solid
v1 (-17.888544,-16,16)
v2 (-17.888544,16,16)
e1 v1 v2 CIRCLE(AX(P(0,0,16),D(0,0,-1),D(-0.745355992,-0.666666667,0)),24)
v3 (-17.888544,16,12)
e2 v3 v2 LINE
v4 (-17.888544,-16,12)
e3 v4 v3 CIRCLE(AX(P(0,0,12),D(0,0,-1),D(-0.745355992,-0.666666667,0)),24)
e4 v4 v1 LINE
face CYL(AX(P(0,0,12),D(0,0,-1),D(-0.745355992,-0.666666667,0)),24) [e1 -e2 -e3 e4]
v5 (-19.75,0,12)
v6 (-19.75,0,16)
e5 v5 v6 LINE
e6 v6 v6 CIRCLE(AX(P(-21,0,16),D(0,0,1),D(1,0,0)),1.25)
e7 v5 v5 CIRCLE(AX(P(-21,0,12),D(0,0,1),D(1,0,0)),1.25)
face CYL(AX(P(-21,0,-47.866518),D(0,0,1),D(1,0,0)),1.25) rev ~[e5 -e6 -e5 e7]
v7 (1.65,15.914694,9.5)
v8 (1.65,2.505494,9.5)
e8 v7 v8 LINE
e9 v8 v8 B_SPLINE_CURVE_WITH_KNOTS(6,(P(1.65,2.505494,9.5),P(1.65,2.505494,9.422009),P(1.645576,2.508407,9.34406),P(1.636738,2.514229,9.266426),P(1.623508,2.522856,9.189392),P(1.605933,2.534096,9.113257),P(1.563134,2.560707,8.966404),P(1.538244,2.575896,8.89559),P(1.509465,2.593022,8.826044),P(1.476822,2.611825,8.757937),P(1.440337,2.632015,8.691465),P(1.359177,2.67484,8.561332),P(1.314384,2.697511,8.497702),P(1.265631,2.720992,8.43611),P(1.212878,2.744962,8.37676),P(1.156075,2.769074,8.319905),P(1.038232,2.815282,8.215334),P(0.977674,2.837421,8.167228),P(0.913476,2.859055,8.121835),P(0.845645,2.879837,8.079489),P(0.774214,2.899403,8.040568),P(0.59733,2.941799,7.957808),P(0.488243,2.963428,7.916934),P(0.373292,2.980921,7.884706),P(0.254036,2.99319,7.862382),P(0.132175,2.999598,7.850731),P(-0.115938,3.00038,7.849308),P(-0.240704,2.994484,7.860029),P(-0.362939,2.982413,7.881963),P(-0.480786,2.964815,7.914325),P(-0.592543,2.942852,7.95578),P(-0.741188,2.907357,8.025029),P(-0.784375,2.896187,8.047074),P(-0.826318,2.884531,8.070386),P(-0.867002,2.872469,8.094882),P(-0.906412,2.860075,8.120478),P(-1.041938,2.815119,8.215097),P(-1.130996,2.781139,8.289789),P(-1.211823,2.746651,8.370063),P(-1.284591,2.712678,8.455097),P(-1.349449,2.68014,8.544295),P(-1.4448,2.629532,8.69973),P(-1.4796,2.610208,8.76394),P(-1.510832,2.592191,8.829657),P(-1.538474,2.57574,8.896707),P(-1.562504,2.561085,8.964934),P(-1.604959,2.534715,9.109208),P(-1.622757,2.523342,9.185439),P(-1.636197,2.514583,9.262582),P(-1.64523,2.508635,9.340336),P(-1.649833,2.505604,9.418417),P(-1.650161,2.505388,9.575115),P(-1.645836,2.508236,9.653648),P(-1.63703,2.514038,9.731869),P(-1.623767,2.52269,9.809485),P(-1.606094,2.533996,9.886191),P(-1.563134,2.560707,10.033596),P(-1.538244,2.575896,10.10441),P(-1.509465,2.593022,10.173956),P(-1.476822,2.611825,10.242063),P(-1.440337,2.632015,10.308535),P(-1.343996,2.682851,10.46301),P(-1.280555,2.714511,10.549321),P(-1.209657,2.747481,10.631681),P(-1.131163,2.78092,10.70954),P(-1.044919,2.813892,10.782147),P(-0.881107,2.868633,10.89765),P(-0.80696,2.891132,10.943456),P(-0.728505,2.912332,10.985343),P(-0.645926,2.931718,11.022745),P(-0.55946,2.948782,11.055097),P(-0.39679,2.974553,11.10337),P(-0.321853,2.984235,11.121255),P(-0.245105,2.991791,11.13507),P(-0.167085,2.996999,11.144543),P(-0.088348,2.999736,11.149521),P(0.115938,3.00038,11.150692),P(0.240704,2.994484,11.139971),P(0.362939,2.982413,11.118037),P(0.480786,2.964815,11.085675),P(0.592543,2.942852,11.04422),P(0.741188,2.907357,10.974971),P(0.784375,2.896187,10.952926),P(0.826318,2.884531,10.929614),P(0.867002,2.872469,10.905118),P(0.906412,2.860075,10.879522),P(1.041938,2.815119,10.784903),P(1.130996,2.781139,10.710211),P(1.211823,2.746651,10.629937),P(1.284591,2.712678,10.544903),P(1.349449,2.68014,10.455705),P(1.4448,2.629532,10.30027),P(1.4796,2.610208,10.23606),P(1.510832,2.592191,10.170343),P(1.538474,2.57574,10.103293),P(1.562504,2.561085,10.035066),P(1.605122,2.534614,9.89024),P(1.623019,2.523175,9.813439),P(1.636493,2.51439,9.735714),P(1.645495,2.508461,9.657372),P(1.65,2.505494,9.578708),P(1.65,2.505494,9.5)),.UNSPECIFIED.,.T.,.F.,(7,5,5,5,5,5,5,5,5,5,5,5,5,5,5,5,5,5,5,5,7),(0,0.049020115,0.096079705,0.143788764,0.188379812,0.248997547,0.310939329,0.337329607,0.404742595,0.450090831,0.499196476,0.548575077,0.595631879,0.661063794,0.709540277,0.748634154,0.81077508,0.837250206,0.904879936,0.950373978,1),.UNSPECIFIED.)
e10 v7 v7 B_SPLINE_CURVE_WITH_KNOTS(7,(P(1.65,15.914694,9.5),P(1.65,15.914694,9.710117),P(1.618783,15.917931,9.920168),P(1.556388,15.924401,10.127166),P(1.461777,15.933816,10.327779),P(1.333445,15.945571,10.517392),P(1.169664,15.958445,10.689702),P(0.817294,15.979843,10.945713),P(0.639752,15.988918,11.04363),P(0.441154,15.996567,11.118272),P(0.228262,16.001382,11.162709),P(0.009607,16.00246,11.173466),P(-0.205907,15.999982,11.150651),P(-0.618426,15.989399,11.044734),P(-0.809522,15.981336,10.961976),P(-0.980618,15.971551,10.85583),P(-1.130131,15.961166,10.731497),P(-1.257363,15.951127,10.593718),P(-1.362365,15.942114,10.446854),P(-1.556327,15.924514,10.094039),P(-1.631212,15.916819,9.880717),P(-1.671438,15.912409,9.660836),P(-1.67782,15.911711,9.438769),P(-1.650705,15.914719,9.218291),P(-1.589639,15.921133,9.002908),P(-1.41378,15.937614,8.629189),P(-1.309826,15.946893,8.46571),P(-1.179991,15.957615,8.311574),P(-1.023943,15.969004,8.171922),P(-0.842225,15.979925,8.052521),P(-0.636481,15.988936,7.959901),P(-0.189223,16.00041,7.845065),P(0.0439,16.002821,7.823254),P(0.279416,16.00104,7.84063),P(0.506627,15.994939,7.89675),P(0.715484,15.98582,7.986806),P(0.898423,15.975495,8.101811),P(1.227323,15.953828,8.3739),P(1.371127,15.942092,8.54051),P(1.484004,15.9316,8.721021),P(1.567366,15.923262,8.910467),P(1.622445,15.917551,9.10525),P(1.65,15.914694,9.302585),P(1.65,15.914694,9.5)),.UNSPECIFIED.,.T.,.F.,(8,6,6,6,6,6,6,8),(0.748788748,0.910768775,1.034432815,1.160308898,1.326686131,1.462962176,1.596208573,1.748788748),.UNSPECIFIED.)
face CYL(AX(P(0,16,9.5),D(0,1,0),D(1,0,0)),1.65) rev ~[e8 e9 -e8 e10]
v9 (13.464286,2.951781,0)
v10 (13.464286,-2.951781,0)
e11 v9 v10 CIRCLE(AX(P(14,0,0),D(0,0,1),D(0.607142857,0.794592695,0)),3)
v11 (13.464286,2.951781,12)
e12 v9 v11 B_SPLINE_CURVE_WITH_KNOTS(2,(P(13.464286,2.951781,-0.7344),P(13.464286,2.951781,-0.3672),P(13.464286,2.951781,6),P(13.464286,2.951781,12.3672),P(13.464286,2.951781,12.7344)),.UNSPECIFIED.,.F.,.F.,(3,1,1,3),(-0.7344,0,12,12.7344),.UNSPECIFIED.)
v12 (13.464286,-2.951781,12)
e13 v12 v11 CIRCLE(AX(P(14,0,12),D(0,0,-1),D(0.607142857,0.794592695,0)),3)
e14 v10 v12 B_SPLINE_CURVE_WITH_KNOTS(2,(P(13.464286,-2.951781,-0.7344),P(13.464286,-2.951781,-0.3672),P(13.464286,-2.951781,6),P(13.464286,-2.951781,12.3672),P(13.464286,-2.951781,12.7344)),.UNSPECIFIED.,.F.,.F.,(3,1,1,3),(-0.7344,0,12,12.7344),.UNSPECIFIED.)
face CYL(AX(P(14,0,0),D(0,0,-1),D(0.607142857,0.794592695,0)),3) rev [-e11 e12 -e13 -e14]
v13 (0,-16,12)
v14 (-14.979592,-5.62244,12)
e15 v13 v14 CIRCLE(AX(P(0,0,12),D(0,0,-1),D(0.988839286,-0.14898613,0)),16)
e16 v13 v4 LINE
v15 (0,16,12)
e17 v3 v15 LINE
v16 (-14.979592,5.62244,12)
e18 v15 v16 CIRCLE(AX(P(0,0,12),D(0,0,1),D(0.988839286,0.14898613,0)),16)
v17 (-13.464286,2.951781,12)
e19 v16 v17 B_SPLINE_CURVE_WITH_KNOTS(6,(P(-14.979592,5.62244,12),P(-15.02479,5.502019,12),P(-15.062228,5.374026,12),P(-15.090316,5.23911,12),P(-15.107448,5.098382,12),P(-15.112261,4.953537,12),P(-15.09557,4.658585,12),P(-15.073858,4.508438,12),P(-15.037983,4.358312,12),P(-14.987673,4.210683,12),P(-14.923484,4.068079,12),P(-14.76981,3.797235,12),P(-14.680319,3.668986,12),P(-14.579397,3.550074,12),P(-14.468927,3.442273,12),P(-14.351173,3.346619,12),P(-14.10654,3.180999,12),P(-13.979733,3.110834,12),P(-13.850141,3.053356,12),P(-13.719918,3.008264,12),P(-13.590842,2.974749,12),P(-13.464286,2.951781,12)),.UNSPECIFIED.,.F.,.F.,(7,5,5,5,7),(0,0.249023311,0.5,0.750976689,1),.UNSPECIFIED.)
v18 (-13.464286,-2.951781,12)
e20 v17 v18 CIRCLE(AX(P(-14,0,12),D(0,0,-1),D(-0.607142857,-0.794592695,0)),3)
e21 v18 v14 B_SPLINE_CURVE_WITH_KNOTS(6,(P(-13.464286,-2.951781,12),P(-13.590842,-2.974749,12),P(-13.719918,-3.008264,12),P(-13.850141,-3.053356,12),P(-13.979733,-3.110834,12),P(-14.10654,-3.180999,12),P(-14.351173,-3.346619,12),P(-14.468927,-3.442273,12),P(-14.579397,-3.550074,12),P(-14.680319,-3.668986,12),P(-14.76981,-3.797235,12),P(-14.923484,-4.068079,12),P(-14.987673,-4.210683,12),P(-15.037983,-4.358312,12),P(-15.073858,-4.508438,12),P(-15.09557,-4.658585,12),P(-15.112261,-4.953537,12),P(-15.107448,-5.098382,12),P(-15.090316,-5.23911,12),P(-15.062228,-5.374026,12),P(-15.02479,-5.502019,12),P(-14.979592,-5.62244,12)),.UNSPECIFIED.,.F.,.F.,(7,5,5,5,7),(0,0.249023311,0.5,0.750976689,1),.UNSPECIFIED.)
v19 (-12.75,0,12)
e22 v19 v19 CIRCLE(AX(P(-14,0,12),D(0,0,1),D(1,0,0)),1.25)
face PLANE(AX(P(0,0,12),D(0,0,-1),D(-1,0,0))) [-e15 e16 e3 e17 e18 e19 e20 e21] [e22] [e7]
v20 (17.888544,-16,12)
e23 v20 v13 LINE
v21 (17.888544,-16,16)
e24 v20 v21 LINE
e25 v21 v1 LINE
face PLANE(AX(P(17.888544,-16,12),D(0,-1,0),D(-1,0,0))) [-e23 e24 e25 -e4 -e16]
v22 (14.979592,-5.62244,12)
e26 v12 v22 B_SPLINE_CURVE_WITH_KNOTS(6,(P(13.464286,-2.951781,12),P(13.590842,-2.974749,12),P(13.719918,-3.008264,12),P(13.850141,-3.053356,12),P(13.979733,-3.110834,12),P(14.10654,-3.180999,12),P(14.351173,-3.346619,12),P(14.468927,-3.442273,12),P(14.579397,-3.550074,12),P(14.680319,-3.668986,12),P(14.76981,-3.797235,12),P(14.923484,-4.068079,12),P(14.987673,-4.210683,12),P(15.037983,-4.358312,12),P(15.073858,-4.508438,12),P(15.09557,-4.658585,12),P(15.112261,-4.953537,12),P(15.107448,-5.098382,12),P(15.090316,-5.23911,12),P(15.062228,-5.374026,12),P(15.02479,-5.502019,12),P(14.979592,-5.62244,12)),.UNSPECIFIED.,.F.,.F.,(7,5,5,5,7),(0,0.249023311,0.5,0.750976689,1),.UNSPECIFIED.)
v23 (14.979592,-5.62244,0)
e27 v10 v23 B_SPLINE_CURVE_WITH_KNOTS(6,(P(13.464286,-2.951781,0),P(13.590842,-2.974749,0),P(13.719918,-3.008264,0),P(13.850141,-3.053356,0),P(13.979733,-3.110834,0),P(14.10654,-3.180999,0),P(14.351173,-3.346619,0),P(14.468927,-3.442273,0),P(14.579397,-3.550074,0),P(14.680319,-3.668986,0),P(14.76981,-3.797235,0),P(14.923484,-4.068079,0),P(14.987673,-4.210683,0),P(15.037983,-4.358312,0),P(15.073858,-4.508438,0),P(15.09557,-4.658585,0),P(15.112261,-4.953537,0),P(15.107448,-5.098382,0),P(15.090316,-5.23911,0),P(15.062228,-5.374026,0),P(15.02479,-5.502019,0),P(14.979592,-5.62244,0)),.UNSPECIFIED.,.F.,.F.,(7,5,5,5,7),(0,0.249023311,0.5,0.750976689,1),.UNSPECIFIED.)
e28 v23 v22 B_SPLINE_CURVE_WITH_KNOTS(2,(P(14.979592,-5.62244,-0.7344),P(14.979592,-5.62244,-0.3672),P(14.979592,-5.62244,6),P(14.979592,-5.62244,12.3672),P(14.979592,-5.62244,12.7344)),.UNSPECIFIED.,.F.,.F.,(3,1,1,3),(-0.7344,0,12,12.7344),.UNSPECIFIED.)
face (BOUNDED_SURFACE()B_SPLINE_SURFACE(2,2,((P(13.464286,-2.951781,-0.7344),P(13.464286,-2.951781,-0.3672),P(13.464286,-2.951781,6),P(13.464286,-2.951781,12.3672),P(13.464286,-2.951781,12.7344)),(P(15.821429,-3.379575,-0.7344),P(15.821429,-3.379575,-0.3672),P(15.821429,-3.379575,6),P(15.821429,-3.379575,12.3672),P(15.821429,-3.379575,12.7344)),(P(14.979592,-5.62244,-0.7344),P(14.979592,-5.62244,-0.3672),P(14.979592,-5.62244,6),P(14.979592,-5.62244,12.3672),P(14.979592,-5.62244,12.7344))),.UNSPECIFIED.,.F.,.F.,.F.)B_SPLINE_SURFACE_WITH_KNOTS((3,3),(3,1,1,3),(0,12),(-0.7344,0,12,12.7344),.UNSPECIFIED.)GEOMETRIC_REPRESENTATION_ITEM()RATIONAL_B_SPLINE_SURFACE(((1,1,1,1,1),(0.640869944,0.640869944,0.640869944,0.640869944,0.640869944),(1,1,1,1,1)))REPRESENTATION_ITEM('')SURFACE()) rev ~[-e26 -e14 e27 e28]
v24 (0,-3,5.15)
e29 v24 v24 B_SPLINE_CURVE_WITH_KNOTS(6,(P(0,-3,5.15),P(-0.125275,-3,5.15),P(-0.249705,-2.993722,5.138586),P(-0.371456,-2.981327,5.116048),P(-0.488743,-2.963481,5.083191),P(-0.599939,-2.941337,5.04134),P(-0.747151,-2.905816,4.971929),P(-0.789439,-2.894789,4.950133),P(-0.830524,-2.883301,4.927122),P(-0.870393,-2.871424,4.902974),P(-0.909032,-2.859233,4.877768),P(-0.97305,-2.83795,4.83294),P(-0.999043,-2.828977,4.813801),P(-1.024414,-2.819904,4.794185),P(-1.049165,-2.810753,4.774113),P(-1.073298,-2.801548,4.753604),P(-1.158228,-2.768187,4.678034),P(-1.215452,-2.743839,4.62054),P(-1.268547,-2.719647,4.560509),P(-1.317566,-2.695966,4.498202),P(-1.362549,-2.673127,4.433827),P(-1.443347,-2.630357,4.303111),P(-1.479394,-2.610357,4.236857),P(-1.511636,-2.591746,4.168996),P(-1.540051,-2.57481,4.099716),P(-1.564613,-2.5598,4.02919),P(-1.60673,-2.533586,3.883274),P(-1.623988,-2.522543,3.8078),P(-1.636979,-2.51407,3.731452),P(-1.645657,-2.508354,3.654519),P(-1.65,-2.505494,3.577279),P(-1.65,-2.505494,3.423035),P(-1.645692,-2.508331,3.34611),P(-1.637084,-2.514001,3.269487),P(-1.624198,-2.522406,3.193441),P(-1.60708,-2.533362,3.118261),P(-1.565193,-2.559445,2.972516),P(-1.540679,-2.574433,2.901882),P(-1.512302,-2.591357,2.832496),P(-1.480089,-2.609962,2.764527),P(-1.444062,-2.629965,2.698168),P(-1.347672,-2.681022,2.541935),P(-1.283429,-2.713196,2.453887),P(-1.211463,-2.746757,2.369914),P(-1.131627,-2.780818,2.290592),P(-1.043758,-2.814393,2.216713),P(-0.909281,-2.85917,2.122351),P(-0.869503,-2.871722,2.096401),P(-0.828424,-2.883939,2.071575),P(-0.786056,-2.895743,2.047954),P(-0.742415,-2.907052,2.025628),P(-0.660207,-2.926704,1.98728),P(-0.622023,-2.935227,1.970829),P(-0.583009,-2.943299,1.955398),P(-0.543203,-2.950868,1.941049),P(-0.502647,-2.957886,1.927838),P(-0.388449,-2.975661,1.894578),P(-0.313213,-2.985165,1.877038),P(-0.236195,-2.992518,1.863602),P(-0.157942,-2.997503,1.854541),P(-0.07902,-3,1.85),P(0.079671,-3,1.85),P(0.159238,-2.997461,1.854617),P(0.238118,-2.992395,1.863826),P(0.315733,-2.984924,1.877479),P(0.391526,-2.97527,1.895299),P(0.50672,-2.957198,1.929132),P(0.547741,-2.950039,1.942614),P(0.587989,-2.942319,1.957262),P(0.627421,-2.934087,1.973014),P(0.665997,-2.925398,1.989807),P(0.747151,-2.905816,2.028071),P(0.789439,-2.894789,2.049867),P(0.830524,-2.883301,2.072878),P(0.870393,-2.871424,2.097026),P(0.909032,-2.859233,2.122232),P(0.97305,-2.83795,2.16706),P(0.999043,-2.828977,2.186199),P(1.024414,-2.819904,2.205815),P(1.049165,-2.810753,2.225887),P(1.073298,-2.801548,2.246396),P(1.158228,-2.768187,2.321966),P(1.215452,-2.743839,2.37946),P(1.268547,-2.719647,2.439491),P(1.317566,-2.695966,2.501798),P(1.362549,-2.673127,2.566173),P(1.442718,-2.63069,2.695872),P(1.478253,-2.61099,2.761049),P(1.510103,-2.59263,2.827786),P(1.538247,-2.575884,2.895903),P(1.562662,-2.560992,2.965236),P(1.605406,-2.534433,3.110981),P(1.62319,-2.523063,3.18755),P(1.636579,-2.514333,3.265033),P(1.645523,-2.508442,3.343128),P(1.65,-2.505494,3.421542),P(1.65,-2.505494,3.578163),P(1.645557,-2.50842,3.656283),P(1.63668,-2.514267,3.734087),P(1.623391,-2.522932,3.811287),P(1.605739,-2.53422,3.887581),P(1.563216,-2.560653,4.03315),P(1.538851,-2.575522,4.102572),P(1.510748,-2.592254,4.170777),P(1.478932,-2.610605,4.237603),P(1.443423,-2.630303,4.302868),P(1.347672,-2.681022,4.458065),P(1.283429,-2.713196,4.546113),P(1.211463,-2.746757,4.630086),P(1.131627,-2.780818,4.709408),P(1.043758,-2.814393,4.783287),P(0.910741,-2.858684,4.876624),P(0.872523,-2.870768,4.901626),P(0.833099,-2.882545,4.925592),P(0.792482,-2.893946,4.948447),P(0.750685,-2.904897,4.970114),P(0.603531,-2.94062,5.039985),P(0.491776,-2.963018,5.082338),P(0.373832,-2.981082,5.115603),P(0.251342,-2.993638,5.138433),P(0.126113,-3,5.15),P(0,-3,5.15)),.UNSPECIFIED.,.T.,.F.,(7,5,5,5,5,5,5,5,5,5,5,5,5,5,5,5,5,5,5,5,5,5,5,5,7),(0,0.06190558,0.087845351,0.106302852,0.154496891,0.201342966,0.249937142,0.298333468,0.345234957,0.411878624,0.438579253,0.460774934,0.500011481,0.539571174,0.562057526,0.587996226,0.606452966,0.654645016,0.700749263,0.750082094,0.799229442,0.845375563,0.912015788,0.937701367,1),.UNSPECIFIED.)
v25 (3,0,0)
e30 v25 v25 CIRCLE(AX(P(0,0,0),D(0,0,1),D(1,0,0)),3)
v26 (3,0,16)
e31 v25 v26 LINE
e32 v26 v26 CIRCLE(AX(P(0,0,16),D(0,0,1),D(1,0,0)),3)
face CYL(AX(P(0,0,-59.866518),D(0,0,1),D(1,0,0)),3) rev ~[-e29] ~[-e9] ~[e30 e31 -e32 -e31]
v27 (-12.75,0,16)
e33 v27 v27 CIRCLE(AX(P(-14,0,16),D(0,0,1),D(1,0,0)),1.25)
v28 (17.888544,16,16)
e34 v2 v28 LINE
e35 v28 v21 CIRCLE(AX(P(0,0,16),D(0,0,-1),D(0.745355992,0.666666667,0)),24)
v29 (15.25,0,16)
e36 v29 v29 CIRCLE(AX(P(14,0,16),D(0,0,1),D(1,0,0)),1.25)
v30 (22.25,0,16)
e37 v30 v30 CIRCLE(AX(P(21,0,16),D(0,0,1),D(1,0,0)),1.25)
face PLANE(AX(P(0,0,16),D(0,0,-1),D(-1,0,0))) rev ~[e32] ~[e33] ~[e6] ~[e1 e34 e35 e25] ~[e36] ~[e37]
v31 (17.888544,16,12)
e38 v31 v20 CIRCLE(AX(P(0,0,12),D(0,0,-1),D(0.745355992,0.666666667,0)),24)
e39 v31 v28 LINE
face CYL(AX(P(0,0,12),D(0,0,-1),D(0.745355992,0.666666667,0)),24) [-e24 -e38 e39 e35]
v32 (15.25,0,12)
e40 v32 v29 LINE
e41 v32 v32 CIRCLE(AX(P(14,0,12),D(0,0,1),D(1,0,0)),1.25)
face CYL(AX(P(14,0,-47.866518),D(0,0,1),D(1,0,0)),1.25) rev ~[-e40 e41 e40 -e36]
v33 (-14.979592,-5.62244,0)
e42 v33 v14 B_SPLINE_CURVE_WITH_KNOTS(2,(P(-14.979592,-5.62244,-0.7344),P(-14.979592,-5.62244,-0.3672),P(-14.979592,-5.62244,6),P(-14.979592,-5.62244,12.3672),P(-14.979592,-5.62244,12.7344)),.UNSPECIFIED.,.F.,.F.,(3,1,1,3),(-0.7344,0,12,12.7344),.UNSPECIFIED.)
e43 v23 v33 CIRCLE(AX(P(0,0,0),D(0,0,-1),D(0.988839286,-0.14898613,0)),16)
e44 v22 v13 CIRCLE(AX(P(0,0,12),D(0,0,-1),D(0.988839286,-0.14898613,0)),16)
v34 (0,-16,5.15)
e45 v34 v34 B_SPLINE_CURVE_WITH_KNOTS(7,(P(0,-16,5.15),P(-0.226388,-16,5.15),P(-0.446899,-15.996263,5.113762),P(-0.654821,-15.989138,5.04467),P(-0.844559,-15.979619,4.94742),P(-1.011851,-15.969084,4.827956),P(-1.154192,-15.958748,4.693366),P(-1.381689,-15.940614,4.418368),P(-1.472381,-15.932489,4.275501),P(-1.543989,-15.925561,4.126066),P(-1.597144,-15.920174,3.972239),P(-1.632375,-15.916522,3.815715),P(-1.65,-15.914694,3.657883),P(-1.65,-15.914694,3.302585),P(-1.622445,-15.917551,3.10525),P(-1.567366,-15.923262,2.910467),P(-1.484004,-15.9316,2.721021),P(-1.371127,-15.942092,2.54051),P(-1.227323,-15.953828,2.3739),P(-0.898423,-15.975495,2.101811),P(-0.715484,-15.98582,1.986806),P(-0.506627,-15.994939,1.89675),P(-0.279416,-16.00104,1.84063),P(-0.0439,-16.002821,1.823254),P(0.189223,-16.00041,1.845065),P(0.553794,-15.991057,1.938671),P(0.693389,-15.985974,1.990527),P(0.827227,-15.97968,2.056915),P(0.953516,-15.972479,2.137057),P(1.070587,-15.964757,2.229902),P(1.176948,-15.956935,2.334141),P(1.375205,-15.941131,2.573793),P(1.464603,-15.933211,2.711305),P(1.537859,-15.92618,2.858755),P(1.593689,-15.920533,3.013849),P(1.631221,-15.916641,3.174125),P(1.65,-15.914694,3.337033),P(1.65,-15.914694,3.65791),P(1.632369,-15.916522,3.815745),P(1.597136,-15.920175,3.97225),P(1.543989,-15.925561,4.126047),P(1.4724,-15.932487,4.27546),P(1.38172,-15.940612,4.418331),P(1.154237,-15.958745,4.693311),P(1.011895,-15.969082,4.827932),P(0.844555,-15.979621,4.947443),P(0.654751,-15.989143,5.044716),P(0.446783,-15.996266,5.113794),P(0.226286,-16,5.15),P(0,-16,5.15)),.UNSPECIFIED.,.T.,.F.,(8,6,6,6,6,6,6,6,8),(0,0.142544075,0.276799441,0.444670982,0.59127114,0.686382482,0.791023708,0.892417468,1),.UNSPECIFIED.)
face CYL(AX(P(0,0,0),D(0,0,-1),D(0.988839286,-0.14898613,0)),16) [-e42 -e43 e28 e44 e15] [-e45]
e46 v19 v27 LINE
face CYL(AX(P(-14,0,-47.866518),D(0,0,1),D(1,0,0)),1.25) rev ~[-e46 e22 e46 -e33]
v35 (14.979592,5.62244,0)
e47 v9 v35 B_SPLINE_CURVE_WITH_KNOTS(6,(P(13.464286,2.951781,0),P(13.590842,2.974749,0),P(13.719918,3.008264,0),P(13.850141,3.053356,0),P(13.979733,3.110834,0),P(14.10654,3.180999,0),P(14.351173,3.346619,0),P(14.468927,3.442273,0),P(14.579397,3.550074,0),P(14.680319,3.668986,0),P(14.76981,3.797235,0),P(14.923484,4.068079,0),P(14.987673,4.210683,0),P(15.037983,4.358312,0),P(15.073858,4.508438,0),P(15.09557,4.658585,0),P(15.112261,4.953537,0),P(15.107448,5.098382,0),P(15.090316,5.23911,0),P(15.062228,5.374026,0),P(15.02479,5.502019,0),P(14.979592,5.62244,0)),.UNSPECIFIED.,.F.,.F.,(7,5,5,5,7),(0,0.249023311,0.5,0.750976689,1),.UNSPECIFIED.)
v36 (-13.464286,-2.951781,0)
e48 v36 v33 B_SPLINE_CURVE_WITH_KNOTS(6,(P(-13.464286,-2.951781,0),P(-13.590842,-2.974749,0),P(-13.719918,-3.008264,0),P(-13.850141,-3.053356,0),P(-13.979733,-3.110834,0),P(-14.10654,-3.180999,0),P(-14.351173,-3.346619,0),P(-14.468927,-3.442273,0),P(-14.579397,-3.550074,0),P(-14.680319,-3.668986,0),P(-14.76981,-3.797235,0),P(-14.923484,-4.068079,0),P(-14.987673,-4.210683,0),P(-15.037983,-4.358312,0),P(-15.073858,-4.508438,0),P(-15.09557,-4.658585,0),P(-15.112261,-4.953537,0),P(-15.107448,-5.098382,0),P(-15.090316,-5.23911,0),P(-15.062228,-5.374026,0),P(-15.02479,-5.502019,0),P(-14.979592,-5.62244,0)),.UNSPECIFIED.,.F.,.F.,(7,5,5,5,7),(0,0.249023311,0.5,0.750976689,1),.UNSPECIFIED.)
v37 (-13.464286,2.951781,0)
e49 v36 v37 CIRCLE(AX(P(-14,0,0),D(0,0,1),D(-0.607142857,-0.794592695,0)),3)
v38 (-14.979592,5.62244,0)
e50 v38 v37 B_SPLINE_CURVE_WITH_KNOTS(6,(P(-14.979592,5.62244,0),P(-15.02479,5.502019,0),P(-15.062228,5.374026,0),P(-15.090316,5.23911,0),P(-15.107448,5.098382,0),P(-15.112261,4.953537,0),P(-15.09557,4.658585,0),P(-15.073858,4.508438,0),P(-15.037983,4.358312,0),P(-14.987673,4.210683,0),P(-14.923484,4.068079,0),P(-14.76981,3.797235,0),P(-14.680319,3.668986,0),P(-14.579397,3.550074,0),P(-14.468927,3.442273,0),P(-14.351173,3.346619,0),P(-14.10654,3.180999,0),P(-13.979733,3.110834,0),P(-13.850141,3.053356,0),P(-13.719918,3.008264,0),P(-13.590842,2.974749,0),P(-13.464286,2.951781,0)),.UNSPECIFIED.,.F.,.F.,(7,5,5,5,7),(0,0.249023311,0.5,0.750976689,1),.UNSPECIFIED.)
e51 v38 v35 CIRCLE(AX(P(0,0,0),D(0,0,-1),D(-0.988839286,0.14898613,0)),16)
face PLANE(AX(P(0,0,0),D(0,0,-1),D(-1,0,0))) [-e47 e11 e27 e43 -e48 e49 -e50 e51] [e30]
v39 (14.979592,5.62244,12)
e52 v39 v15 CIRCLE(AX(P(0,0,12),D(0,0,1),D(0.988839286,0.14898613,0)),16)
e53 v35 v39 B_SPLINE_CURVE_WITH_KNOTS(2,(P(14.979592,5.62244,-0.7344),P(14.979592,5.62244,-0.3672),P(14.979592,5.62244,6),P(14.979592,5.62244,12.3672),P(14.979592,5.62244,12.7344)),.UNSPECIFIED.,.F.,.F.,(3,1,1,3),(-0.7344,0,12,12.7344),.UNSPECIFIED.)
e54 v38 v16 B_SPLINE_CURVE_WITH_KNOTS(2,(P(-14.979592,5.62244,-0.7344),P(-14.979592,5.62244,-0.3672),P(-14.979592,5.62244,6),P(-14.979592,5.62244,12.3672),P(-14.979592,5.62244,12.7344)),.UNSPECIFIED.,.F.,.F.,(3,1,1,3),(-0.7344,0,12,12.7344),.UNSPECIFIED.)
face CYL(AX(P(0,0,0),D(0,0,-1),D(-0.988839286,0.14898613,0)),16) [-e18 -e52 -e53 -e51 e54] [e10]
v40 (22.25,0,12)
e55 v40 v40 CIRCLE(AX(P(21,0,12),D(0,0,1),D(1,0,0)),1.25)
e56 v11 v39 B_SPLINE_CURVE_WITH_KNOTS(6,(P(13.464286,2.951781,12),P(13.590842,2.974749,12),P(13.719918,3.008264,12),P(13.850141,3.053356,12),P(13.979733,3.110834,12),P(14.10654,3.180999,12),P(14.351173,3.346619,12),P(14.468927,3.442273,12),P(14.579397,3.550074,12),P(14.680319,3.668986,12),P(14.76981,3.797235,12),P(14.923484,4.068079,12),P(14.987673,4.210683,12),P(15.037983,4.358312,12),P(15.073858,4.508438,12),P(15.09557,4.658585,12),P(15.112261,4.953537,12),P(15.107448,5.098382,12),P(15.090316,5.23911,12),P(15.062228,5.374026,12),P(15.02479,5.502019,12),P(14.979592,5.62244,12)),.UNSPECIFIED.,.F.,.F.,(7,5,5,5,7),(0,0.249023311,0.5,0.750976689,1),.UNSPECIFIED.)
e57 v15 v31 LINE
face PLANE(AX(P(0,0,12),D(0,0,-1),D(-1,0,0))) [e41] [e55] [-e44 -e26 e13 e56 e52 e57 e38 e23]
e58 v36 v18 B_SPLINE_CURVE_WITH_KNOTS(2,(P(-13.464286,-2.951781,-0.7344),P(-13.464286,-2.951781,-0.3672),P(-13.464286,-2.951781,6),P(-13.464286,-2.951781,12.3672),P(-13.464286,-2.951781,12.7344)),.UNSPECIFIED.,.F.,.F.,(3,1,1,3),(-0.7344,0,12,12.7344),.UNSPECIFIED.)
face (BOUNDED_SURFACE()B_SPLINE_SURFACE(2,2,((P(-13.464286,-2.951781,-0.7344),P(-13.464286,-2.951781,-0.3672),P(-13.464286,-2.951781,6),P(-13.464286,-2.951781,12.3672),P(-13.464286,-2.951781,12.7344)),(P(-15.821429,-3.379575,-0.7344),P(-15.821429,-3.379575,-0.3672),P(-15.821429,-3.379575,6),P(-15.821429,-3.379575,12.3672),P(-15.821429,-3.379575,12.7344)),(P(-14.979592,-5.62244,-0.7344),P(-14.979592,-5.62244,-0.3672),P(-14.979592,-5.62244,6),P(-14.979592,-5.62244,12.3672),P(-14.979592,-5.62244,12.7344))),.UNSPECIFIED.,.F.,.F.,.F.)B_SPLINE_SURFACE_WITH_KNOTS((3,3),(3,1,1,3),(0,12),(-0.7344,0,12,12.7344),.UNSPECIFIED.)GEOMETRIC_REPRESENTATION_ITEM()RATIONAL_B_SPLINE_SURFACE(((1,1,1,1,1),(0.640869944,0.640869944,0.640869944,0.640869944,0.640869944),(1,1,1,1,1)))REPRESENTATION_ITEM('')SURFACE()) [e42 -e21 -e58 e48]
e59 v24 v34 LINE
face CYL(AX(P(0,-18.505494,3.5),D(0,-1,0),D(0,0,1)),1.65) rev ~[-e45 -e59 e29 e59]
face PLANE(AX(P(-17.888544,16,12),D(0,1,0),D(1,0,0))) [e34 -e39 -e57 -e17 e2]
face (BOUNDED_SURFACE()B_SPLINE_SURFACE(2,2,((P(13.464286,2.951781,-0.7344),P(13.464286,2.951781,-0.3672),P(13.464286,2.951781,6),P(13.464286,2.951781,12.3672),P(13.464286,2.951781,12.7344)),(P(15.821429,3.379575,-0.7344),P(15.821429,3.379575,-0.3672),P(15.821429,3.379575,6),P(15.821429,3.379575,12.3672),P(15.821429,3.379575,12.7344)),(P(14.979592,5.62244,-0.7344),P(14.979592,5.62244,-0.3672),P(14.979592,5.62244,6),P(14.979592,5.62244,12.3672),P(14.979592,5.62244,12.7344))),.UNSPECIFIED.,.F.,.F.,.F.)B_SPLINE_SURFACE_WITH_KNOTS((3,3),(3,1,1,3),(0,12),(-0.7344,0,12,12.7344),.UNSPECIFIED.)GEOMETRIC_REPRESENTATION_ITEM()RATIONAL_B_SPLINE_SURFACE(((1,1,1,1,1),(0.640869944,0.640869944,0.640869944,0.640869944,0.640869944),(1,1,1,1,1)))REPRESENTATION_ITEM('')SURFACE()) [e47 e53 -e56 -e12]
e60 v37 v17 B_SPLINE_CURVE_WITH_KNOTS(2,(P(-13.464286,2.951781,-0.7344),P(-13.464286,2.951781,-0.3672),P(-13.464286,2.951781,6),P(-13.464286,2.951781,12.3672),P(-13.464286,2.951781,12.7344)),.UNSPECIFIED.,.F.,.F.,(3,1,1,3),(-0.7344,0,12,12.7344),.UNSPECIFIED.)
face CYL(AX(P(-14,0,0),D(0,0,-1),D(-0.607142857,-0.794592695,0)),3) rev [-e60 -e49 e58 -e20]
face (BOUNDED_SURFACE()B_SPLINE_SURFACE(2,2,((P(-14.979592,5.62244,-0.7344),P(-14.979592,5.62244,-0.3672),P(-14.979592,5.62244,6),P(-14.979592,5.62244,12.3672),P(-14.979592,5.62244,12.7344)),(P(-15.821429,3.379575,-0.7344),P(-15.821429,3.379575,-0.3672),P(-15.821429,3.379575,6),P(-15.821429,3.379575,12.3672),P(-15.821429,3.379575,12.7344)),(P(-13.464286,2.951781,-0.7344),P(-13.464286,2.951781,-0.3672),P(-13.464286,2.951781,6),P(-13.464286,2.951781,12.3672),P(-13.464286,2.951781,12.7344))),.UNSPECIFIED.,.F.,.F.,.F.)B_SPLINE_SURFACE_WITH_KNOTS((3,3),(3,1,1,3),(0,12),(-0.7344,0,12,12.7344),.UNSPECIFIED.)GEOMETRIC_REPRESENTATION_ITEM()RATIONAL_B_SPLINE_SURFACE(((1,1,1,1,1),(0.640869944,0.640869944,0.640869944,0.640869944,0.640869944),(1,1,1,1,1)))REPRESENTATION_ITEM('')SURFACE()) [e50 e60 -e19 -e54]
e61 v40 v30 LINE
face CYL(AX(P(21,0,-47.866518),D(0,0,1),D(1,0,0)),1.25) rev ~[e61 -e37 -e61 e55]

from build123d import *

# Parameters (mm, degrees)
BOSS_EXTRUDE1_DEPTH        = 4
BOSS_EXTRUDE2_REACH        = 34.985
F_2_CLEARANCE_HOLE1_D      = 2.5
F_12_CLEARANCE_HOLE1_D     = 6
F_4_CLEARANCE_HOLE1_REACH  = 43.113
F_4_CLEARANCE_HOLE1_BORE_R = 1.65
SKETCH9_W                  = 1.65
SKETCH9_H                  = 32
FILLET1_R                  = 2


with BuildPart() as part:
    # Sketch1 → Boss-Extrude1 (new body)
    with BuildSketch(Plane(origin=(0, 0, 12), x_dir=(-1, 0, 0), z_dir=(0, 0, -1))):
        with BuildLine():
            Line((-17.88854382, -16), (17.88854382, -16))
            ThreePointArc((17.88854382, -16), (24, 0), (17.88854382, 16))
            Line((17.88854382, 16), (-17.88854382, 16))
            ThreePointArc((-17.88854382, 16), (-24, 0), (-17.88854382, -16))
        make_face()
    extrude(amount=-BOSS_EXTRUDE1_DEPTH)

    # Sketch3 → Boss-Extrude2 (add, up to next)
    with BuildSketch(Plane(origin=(0, 0, 0), x_dir=(-1, 0, 0), z_dir=(0, 0, -1)), mode=Mode.PRIVATE) as boss_extrude2_sk1:
        with BuildLine():
            ThreePointArc((-15.821428571, 2.383778085), (-11, 0), (-15.821428571, -2.383778085))
            ThreePointArc((-15.821428571, -2.383778085), (0, -16), (15.821428571, -2.383778085))
            ThreePointArc((15.821428571, -2.383778085), (11, 0), (15.821428571, 2.383778085))
            ThreePointArc((15.821428571, 2.383778085), (0, 16), (-15.821428571, 2.383778085))
        make_face()
    boss_extrude2_tool1 = extrude(boss_extrude2_sk1.sketch, amount=-BOSS_EXTRUDE2_REACH, mode=Mode.PRIVATE) - part.part
    add(boss_extrude2_tool1.solids().sort_by_distance((0, 0, 0))[0])

    # #2 Clearance Hole1 (through all)
    with Locations(Plane(origin=(0, 0, 12), x_dir=(-1, 0, 0), z_dir=(0, 0, -1))):
        with Locations((21, 0), (-21, 0), (-14, 0), (14, 0)):
            Hole(F_2_CLEARANCE_HOLE1_D / 2)

    # #12 Clearance Hole1 (through all)
    with Locations(Plane(origin=(0, 0, 0), x_dir=(-1, 0, 0), z_dir=(0, 0, -1))):
        with Locations((0, 0)):
            Hole(F_12_CLEARANCE_HOLE1_D / 2)

    # #4 Clearance Hole1 bore (on position points) → #4 Clearance Hole1 (cut, up to next)
    with BuildSketch(Plane(origin=(0, 16, 9.5), x_dir=(1, 0, 0), z_dir=(0, 1, 0)), mode=Mode.PRIVATE) as f_4_clearance_hole1_sk1:
        Circle(F_4_CLEARANCE_HOLE1_BORE_R)
    f_4_clearance_hole1_tool1 = extrude(f_4_clearance_hole1_sk1.sketch, amount=-F_4_CLEARANCE_HOLE1_REACH, mode=Mode.PRIVATE) & part.part
    add(f_4_clearance_hole1_tool1.solids().sort_by_distance((0, 16, 9.5))[0], mode=Mode.SUBTRACT)

    # Sketch9 → #4 Clearance Hole2 (revolve, cut)
    with BuildSketch(Plane(origin=(0, -2.505493963, 3.5), x_dir=(0, 0, 1), z_dir=(1, 0, 0))):
        with Locations((0.825, 16)):
            Rectangle(SKETCH9_W, SKETCH9_H)
    revolve(axis=Axis((0, 3.844506037, 3.5), (0, -1, 0)), mode=Mode.SUBTRACT)

    # Fillet1
    fillet1_edges = [part.edges().sort_by_distance(p)[0] for p in [
        (15.821428571, -2.383778085, 6),
        (-15.821428571, -2.383778085, 6),
        (-15.821428571, 2.383778085, 6),
        (15.821428571, 2.383778085, 6),
    ]]
    fillet(fillet1_edges, radius=FILLET1_R)


solid = part.part
